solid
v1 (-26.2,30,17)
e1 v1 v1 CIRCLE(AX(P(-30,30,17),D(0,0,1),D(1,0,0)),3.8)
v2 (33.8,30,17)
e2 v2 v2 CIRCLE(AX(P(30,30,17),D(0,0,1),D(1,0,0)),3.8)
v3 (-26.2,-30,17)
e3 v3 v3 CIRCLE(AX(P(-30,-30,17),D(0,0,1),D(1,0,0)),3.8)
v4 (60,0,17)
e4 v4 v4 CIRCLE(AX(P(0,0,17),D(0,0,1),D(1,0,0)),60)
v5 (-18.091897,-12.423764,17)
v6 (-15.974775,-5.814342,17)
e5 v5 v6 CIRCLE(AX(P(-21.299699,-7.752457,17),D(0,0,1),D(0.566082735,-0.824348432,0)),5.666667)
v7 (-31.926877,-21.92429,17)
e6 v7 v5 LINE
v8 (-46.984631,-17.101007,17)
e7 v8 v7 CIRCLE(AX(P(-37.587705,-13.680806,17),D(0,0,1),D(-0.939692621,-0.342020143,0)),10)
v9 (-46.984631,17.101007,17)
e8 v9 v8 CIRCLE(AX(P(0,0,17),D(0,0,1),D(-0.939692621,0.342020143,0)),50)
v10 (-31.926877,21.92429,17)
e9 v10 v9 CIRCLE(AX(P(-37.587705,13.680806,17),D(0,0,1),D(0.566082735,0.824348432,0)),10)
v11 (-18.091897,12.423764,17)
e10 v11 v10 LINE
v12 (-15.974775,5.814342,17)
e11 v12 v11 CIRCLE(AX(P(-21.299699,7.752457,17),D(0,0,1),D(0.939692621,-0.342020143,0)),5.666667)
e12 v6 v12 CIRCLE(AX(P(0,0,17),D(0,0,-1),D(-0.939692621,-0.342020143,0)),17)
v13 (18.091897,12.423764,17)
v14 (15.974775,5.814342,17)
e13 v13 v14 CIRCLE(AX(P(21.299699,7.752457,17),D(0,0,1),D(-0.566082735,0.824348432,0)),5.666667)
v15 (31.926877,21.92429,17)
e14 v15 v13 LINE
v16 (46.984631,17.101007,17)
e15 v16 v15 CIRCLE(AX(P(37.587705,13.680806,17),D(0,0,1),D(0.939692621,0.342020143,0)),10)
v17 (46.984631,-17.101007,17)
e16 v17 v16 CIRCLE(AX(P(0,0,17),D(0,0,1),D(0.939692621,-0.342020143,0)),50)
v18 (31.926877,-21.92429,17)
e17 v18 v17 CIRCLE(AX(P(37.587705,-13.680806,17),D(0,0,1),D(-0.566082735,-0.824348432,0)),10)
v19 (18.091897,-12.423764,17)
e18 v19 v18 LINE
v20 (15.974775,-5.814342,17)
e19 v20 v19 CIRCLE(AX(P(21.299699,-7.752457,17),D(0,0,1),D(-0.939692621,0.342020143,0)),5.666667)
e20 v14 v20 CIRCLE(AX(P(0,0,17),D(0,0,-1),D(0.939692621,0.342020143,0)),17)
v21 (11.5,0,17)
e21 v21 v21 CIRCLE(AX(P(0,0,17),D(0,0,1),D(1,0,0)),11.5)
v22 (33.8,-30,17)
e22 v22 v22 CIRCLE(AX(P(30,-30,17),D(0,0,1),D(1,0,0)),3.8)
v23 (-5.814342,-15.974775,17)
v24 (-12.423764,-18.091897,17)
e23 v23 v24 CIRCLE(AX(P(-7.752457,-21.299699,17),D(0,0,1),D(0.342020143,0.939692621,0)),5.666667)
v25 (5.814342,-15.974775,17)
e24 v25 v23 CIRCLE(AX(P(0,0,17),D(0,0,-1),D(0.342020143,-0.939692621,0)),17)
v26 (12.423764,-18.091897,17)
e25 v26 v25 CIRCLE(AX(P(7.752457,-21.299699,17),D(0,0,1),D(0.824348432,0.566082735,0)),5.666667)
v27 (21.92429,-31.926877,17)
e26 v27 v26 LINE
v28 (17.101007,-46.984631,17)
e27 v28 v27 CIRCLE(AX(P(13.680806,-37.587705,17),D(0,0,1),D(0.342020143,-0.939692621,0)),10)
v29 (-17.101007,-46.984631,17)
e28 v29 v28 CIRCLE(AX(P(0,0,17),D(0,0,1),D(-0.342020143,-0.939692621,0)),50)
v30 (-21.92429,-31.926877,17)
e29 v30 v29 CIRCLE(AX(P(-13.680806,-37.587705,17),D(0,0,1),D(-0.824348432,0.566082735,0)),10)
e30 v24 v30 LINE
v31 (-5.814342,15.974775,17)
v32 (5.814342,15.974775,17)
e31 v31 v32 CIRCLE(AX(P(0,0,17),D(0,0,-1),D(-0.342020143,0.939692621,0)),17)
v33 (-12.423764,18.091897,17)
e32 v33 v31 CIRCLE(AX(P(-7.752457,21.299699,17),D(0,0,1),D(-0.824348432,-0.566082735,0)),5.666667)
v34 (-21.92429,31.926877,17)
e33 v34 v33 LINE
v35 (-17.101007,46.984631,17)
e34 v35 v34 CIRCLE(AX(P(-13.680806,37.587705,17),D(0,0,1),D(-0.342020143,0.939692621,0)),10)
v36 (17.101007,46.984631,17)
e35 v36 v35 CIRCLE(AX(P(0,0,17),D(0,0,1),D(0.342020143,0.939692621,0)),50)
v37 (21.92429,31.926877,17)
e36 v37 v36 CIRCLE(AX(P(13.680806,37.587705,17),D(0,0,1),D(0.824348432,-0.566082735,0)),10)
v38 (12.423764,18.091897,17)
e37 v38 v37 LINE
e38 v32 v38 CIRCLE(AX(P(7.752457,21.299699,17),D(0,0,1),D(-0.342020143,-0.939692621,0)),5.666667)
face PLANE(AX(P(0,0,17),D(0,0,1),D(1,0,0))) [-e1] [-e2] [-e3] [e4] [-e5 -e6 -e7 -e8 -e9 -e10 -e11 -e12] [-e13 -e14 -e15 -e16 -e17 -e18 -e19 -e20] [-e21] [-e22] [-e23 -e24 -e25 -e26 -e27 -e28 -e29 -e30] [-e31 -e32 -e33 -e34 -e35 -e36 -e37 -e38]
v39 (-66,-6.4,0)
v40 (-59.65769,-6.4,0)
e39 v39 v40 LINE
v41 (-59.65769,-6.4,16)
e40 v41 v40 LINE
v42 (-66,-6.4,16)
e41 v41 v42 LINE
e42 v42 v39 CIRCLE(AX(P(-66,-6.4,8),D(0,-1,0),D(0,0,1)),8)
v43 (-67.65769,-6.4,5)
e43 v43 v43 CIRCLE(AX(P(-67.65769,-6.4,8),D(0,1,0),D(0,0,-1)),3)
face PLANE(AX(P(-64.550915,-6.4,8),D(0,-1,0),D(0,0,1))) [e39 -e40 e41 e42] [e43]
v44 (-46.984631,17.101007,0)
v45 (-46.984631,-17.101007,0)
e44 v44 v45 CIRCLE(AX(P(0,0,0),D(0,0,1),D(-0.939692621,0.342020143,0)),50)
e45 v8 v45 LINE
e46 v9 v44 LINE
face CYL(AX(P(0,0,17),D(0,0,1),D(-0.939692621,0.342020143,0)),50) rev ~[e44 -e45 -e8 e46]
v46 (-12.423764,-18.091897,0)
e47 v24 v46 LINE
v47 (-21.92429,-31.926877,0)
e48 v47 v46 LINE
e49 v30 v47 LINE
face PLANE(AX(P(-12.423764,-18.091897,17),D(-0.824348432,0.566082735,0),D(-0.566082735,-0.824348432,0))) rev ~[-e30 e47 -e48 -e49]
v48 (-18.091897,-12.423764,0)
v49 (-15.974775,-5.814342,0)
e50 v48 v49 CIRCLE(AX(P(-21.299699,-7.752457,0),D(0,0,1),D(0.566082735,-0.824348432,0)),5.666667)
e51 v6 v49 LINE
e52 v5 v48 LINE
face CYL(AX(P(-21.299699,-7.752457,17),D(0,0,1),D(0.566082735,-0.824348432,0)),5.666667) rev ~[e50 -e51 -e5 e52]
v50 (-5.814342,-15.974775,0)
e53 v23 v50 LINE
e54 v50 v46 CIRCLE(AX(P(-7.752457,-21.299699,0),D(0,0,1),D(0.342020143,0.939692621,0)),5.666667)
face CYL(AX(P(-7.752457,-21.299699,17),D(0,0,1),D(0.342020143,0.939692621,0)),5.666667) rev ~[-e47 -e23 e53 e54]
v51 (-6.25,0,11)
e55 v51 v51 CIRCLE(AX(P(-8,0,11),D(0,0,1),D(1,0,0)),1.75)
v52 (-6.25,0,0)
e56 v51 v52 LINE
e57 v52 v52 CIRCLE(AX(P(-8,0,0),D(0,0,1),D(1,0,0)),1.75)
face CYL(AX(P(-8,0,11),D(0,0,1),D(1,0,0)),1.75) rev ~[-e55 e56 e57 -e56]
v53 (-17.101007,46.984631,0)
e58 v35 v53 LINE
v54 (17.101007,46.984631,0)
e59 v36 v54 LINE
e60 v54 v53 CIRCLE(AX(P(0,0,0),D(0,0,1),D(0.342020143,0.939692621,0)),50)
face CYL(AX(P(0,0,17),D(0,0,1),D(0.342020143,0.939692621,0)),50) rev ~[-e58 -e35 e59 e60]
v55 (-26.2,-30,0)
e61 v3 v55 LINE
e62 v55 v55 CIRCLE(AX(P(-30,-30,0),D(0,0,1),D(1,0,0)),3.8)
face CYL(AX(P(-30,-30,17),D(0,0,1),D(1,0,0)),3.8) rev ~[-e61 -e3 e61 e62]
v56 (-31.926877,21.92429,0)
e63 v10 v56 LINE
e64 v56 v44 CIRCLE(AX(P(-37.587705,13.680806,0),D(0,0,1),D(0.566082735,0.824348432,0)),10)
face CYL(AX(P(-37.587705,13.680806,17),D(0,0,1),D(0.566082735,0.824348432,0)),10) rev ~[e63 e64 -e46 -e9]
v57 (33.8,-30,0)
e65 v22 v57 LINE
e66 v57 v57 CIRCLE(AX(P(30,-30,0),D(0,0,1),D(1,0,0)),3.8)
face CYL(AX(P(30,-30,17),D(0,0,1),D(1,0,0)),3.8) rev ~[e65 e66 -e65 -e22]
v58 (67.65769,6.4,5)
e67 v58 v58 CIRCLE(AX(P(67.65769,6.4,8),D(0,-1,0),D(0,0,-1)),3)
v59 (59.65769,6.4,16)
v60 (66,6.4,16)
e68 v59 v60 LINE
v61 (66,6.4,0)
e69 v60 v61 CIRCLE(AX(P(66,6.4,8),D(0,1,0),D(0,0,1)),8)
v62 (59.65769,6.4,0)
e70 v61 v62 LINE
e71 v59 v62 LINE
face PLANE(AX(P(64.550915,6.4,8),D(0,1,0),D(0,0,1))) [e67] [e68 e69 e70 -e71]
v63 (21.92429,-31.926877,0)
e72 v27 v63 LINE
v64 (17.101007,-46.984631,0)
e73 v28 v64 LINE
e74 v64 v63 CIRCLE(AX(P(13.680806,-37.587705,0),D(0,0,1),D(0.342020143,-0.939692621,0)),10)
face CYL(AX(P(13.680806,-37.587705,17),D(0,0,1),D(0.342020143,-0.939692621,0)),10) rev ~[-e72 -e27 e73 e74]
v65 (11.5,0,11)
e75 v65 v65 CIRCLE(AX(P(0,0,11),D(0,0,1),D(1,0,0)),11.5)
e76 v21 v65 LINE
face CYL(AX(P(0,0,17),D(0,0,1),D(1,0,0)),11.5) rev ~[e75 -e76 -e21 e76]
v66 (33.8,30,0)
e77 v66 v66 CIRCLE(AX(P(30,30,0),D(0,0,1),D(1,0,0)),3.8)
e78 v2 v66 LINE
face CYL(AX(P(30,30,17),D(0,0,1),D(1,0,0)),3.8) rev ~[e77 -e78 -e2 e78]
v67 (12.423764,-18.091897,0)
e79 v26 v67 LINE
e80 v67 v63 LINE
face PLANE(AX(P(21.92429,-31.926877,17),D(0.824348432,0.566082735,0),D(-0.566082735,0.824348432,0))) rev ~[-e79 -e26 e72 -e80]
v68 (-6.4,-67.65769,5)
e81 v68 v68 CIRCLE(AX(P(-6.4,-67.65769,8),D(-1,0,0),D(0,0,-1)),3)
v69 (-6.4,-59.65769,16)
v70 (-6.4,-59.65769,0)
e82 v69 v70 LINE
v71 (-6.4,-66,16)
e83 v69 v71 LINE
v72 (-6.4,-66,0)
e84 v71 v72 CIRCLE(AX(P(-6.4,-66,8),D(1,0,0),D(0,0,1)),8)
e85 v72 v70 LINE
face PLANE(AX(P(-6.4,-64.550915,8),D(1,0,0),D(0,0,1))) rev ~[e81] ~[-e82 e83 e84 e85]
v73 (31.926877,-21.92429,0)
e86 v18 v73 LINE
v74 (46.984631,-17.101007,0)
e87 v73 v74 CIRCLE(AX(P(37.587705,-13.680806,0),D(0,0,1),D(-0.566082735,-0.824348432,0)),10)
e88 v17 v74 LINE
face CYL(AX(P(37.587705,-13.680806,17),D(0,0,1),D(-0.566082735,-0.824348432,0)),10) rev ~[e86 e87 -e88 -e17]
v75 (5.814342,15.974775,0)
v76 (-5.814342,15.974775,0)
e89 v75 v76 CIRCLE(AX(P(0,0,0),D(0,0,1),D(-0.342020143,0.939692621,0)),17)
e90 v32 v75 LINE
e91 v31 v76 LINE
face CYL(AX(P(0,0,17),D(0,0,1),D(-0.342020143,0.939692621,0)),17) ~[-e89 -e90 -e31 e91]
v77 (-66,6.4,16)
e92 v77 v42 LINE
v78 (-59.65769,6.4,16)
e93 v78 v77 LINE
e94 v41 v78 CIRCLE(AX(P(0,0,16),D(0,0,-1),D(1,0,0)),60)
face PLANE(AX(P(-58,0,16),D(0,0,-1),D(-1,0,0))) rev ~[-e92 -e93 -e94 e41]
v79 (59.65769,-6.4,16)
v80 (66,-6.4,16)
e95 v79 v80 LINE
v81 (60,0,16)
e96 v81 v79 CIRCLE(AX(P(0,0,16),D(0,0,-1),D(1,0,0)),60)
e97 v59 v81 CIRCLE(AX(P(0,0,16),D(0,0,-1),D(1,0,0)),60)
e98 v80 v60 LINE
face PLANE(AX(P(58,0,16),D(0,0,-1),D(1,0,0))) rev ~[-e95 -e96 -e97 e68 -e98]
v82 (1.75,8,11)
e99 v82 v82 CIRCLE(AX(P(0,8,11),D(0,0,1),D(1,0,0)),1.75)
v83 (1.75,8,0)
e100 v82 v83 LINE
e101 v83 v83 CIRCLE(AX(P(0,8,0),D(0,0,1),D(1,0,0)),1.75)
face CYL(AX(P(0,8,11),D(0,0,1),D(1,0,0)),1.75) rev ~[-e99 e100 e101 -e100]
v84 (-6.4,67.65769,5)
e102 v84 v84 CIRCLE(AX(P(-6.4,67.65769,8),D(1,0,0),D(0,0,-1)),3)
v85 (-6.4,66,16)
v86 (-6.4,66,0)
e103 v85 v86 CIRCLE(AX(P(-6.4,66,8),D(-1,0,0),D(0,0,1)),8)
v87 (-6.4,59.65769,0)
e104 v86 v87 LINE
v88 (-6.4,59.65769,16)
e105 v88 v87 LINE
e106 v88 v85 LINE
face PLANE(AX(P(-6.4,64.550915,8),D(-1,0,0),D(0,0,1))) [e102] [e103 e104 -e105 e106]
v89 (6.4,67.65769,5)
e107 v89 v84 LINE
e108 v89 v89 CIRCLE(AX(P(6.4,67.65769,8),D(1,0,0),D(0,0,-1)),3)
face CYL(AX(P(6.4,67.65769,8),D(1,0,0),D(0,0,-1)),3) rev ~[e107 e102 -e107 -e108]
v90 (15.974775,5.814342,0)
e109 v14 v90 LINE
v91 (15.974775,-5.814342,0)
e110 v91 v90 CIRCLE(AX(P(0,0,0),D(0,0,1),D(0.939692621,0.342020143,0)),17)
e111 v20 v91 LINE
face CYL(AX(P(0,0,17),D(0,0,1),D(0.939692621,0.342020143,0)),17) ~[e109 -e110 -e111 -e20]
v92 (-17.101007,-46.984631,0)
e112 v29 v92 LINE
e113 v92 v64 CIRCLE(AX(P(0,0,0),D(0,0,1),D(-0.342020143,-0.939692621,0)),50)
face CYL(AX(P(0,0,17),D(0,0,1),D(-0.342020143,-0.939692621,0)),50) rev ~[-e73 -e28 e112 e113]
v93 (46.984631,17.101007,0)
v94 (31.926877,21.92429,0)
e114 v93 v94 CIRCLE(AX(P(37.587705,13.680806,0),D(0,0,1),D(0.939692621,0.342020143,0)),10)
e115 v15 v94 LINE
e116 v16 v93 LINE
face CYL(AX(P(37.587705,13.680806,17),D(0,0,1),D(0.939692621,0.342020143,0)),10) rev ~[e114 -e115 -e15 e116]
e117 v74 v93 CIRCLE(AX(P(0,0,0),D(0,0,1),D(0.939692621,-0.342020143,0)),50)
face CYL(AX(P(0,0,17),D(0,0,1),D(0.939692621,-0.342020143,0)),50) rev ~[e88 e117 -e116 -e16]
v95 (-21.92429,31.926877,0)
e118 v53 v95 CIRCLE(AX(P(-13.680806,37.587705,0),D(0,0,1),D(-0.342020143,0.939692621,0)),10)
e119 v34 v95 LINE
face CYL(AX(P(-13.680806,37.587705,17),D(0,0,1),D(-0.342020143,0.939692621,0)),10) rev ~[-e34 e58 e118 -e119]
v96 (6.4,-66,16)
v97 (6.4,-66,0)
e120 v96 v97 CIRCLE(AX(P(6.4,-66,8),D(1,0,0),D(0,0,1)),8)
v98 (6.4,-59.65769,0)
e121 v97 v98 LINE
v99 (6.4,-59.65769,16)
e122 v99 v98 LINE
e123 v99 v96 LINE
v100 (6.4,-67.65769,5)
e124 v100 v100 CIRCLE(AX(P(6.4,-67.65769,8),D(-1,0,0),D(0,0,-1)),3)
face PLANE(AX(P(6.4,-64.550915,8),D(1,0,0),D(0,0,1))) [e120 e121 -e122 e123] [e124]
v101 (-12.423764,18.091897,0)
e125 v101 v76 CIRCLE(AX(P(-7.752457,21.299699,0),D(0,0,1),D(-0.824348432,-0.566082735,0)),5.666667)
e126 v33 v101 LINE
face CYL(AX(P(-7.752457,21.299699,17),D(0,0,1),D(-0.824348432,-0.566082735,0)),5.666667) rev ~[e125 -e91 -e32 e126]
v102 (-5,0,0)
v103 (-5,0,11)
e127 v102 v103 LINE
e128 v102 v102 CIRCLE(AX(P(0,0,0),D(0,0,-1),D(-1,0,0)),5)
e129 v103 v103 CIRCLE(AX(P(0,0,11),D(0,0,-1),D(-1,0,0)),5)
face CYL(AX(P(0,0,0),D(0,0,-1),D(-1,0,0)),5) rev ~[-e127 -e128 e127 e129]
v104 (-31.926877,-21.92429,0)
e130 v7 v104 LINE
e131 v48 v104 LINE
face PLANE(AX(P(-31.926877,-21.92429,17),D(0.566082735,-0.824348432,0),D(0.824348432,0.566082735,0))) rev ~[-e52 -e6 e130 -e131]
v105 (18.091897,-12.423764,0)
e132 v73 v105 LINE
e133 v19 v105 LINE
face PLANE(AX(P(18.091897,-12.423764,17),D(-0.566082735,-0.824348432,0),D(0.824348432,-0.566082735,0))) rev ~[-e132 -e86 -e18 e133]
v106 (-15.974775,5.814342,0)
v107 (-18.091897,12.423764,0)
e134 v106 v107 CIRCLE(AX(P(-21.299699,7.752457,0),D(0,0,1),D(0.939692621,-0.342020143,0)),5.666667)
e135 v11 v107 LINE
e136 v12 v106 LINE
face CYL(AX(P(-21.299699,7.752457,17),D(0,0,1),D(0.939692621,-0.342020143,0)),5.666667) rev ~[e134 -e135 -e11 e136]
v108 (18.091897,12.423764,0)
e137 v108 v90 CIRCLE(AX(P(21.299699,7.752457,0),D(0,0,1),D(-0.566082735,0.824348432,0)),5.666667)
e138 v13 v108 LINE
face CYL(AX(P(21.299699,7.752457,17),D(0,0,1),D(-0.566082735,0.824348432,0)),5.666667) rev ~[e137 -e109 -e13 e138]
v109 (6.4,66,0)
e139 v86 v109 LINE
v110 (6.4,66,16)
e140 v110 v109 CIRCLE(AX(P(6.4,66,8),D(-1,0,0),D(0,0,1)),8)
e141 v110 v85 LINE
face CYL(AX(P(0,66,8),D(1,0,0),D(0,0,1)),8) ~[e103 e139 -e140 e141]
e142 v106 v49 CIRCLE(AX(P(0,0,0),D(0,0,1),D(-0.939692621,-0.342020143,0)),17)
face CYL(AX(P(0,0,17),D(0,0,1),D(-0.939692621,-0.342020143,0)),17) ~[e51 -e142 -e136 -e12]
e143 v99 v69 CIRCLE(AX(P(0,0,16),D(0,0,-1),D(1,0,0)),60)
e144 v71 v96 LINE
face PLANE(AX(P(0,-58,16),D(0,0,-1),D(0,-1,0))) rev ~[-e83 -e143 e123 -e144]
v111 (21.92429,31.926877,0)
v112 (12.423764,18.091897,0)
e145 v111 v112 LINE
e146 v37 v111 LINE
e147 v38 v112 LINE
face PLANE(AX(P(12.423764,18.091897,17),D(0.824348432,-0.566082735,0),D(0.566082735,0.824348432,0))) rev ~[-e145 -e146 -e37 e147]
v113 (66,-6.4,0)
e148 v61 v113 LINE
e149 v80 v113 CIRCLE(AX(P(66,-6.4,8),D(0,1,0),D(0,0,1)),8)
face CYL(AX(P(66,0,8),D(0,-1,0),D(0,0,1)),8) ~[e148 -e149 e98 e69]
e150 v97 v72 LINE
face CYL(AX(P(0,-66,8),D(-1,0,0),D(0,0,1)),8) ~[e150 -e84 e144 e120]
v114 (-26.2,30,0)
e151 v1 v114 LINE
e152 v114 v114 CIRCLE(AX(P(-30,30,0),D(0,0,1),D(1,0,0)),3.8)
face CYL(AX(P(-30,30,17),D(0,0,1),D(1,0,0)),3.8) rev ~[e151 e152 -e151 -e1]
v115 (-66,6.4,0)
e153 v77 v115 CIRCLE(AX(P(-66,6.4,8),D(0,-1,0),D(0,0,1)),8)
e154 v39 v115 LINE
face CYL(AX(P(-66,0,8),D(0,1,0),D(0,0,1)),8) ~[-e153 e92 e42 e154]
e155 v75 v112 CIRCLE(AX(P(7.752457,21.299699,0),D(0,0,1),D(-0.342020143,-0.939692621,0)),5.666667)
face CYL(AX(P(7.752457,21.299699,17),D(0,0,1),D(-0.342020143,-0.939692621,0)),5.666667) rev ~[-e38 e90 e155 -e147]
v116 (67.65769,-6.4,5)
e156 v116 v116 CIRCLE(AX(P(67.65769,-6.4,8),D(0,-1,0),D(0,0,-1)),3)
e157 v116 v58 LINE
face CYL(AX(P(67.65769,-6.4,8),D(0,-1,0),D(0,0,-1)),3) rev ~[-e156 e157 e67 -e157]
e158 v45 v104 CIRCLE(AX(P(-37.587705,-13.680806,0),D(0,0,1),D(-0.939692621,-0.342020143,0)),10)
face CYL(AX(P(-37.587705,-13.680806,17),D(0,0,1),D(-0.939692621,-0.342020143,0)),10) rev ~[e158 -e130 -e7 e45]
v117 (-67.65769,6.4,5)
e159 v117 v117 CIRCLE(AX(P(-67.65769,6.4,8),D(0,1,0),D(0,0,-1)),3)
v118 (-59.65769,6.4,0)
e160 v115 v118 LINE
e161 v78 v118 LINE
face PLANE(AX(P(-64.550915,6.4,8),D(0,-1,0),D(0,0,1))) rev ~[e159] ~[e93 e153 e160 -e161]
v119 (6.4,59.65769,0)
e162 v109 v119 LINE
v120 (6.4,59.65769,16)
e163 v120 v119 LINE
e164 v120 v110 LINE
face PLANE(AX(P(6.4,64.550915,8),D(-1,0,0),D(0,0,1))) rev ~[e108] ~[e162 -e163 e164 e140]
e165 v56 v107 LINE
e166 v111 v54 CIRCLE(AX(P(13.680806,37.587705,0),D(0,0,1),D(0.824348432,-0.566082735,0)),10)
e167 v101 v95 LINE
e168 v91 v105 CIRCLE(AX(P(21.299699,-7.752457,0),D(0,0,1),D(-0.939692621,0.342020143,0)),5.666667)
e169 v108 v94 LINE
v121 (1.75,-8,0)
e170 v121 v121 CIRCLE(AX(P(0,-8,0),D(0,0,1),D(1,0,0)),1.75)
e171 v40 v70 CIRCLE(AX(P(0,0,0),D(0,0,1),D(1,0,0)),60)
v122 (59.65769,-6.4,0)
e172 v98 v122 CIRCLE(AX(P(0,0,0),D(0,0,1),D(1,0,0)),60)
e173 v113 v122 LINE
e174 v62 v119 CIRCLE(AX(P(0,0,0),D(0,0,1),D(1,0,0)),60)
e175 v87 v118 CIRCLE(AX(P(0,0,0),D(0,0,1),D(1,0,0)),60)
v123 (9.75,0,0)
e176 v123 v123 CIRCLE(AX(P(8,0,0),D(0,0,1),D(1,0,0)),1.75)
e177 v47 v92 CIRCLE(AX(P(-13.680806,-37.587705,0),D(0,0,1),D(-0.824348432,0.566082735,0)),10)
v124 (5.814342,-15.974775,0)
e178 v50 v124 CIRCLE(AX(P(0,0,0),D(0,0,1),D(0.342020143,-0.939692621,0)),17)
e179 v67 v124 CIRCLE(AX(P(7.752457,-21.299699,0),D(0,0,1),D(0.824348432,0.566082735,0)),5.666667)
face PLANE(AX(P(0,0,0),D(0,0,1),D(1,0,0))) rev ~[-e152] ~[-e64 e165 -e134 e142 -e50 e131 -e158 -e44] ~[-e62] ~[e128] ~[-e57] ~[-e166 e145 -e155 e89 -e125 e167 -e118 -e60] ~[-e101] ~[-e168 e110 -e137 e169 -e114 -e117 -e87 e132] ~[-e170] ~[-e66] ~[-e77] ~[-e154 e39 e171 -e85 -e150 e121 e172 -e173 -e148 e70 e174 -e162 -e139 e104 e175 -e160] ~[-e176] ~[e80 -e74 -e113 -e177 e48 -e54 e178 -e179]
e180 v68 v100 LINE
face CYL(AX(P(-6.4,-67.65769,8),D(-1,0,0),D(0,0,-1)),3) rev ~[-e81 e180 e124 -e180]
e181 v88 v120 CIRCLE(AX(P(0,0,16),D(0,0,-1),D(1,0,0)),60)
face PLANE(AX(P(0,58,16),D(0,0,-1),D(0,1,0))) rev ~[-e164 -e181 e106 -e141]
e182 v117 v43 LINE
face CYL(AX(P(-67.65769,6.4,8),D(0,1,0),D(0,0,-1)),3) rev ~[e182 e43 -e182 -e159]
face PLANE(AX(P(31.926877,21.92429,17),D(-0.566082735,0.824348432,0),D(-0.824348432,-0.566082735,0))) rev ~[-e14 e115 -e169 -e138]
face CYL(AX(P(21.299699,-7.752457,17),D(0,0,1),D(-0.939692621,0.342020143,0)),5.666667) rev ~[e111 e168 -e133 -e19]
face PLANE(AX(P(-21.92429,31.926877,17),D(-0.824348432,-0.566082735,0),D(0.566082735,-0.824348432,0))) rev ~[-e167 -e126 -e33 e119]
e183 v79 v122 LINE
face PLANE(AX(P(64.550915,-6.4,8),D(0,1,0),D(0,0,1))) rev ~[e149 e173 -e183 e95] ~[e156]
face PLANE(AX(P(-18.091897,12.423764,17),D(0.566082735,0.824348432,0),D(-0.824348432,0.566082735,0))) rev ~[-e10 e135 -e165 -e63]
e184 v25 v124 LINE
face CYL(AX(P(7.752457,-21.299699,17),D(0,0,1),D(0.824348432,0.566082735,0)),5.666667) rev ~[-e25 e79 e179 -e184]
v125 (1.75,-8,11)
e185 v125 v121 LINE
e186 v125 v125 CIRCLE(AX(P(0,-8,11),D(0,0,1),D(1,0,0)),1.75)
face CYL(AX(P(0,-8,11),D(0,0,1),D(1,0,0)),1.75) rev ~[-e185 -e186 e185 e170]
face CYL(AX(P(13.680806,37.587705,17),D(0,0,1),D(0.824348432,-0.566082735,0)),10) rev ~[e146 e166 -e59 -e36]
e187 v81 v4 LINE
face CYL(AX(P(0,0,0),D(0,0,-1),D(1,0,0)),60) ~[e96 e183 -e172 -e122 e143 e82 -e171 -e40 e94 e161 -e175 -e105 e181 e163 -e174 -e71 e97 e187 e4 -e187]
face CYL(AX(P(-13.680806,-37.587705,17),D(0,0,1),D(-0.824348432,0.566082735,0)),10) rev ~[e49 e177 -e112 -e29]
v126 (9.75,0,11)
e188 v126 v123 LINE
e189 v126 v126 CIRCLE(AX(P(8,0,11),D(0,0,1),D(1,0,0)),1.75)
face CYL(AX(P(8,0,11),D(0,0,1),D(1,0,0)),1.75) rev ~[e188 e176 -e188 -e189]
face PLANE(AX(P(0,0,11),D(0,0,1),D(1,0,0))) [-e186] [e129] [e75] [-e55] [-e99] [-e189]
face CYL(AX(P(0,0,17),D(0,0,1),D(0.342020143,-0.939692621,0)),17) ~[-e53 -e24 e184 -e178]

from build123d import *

# Parameters (mm, degrees)
SKETCH_1_R               = 60
EXTRUDE_1_DEPTH          = 17
SKETCH_2_R               = 3.8
CUT_EXTRUDE_1_DEPTH      = 87.539008545
EXTRUDE_2_DEPTH          = 6.4
SKETCH_4_R               = 3
CUT_EXTRUDE_7_DEPTH      = 101.866049789
CUT_EXTRUDE_3_REACH      = 98.773
SKETCH_5_R               = 5
SKETCH_6_R               = 11.5
CUT_EXTRUDE_4_DEPTH      = 6
CUT_EXTRUDE_5_REACH      = 97.901
SKETCH_7_R               = 1.75
CUT_EXTRUDE_6_REACH      = 98.773
PATTERN_CIRCULAR_3_COUNT = 4
PATTERN_CIRCULAR_4_COUNT = 4


with BuildPart() as part:
    # 草图1 → 凸台-拉伸1 (new body)
    with BuildSketch(Plane.XY):
        Circle(SKETCH_1_R)
    extrude(amount=EXTRUDE_1_DEPTH)

    # 草图2 → 切除-拉伸1 (cut, through all)
    with BuildSketch(Plane.XY.offset(17)):
        with Locations((-30, 30)):
            Circle(SKETCH_2_R)
        with Locations((30, 30)):
            Circle(SKETCH_2_R)
        with Locations((30, -30)):
            Circle(SKETCH_2_R)
        with Locations((-30, -30)):
            Circle(SKETCH_2_R)
    extrude(amount=-CUT_EXTRUDE_1_DEPTH, mode=Mode.SUBTRACT)

    # 草图3 → 凸台-拉伸2 (add, symmetric)
    with BuildSketch(Plane(origin=(0, 0, 0), x_dir=(0, 0, -1), z_dir=(1, 0, 0))):
        with BuildLine():
            Line((0, 58), (-16, 58))
            Line((-16, 58), (-16, 66))
            ThreePointArc((-16, 66), (-8, 74), (0, 66))
            Line((0, 66), (0, 58))
        make_face()
    extrude_2 = extrude(amount=EXTRUDE_2_DEPTH, both=True)

    # 草图4 → 切除-拉伸7 (cut, through all)
    with BuildSketch(Plane(origin=(6.4, 0, 0), x_dir=(0, 0, -1), z_dir=(1, 0, 0))):
        with Locations((-8, 67.6576902)):
            Circle(SKETCH_4_R)
    cut_extrude_7 = extrude(amount=-CUT_EXTRUDE_7_DEPTH, mode=Mode.SUBTRACT)

    # 草图5 → 切除-拉伸3 (cut, up to next)
    with BuildSketch(Plane(origin=(0, 0, 0), x_dir=(-1, 0, 0), z_dir=(0, 0, -1)), mode=Mode.PRIVATE) as cut_extrude_3_sk1:
        Circle(SKETCH_5_R)
    cut_extrude_3_tool1 = extrude(cut_extrude_3_sk1.sketch, amount=-CUT_EXTRUDE_3_REACH, mode=Mode.PRIVATE) & part.part
    add(cut_extrude_3_tool1.solids().sort_by_distance((0, 0, 0))[0], mode=Mode.SUBTRACT)

    # 草图6 → 切除-拉伸4 (cut)
    with BuildSketch(Plane.XY.offset(17)):
        Circle(SKETCH_6_R)
    extrude(amount=-CUT_EXTRUDE_4_DEPTH, mode=Mode.SUBTRACT)

    # 草图7 → 切除-拉伸5 (cut, up to next)
    with BuildSketch(Plane.XY.offset(11), mode=Mode.PRIVATE) as cut_extrude_5_sk1:
        with Locations((-8, 0)):
            Circle(SKETCH_7_R)
    cut_extrude_5_tool1 = extrude(cut_extrude_5_sk1.sketch, amount=-CUT_EXTRUDE_5_REACH, mode=Mode.PRIVATE) & part.part
    # 草图7 → 切除-拉伸5 (cut, up to next)
    with BuildSketch(Plane.XY.offset(11), mode=Mode.PRIVATE) as cut_extrude_5_sk2:
        with Locations((0, 8)):
            Circle(SKETCH_7_R)
    cut_extrude_5_tool2 = extrude(cut_extrude_5_sk2.sketch, amount=-CUT_EXTRUDE_5_REACH, mode=Mode.PRIVATE) & part.part
    # 草图7 → 切除-拉伸5 (cut, up to next)
    with BuildSketch(Plane.XY.offset(11), mode=Mode.PRIVATE) as cut_extrude_5_sk3:
        with Locations((8, 0)):
            Circle(SKETCH_7_R)
    cut_extrude_5_tool3 = extrude(cut_extrude_5_sk3.sketch, amount=-CUT_EXTRUDE_5_REACH, mode=Mode.PRIVATE) & part.part
    # 草图7 → 切除-拉伸5 (cut, up to next)
    with BuildSketch(Plane.XY.offset(11), mode=Mode.PRIVATE) as cut_extrude_5_sk4:
        with Locations((0, -8)):
            Circle(SKETCH_7_R)
    cut_extrude_5_tool4 = extrude(cut_extrude_5_sk4.sketch, amount=-CUT_EXTRUDE_5_REACH, mode=Mode.PRIVATE) & part.part
    add(cut_extrude_5_tool1.solids().sort_by_distance((-8, 0, 11))[0], mode=Mode.SUBTRACT)
    add(cut_extrude_5_tool2.solids().sort_by_distance((0, 8, 11))[0], mode=Mode.SUBTRACT)
    add(cut_extrude_5_tool3.solids().sort_by_distance((8, 0, 11))[0], mode=Mode.SUBTRACT)
    add(cut_extrude_5_tool4.solids().sort_by_distance((0, -8, 11))[0], mode=Mode.SUBTRACT)

    # 草图8 → 切除-拉伸6 (cut, up to next)
    with BuildSketch(Plane.XY.offset(17), mode=Mode.PRIVATE) as cut_extrude_6_sk1:
        with BuildLine():
            Line((-18.09189724, 12.423764363), (-31.926877482, 21.924290052))
            ThreePointArc((-31.926877482, 21.924290052), (-40.638216775, 23.204165271), (-46.984631039, 17.101007166))
            ThreePointArc((-46.984631039, 17.101007166), (-50, 0), (-46.984631039, -17.101007166))
            ThreePointArc((-46.984631039, -17.101007166), (-40.638216775, -23.204165271), (-31.926877482, -21.924290052))
            Line((-31.926877482, -21.924290052), (-18.09189724, -12.423764363))
            ThreePointArc((-18.09189724, -12.423764363), (-15.903129, -9.481080017), (-15.974774553, -5.814342437))
            ThreePointArc((-15.974774553, -5.814342437), (-17, 0), (-15.974774553, 5.814342437))
            ThreePointArc((-15.974774553, 5.814342437), (-15.903129, 9.481080017), (-18.09189724, 12.423764363))
        make_face()
    cut_extrude_6_tool1 = extrude(cut_extrude_6_sk1.sketch, amount=-CUT_EXTRUDE_6_REACH, mode=Mode.PRIVATE) & part.part
    cut_extrude_6 = cut_extrude_6_tool1.solids().sort_by_distance((-33.87223, 0, 17))[0]
    add(cut_extrude_6, mode=Mode.SUBTRACT)

    # 阵列(圆周)3: 切除-拉伸6 ×4 about axis
    pattern_circular_3_axis = Axis((0, 0, 17), (0, 0, 1))
    for i in range(1, PATTERN_CIRCULAR_3_COUNT):
        add(cut_extrude_6.rotate(pattern_circular_3_axis, i * 360 / PATTERN_CIRCULAR_3_COUNT), mode=Mode.SUBTRACT)

    # 阵列(圆周)4: 凸台-拉伸2, 切除-拉伸7 ×4 about axis
    pattern_circular_4_axis = Axis((0, 0, 17), (0, 0, 1))
    add([extrude_2.rotate(pattern_circular_4_axis, i * 360 / PATTERN_CIRCULAR_4_COUNT) for i in range(1, PATTERN_CIRCULAR_4_COUNT)])
    add([cut_extrude_7.rotate(pattern_circular_4_axis, i * 360 / PATTERN_CIRCULAR_4_COUNT) for i in range(1, PATTERN_CIRCULAR_4_COUNT)], mode=Mode.SUBTRACT)


solid = part.part
